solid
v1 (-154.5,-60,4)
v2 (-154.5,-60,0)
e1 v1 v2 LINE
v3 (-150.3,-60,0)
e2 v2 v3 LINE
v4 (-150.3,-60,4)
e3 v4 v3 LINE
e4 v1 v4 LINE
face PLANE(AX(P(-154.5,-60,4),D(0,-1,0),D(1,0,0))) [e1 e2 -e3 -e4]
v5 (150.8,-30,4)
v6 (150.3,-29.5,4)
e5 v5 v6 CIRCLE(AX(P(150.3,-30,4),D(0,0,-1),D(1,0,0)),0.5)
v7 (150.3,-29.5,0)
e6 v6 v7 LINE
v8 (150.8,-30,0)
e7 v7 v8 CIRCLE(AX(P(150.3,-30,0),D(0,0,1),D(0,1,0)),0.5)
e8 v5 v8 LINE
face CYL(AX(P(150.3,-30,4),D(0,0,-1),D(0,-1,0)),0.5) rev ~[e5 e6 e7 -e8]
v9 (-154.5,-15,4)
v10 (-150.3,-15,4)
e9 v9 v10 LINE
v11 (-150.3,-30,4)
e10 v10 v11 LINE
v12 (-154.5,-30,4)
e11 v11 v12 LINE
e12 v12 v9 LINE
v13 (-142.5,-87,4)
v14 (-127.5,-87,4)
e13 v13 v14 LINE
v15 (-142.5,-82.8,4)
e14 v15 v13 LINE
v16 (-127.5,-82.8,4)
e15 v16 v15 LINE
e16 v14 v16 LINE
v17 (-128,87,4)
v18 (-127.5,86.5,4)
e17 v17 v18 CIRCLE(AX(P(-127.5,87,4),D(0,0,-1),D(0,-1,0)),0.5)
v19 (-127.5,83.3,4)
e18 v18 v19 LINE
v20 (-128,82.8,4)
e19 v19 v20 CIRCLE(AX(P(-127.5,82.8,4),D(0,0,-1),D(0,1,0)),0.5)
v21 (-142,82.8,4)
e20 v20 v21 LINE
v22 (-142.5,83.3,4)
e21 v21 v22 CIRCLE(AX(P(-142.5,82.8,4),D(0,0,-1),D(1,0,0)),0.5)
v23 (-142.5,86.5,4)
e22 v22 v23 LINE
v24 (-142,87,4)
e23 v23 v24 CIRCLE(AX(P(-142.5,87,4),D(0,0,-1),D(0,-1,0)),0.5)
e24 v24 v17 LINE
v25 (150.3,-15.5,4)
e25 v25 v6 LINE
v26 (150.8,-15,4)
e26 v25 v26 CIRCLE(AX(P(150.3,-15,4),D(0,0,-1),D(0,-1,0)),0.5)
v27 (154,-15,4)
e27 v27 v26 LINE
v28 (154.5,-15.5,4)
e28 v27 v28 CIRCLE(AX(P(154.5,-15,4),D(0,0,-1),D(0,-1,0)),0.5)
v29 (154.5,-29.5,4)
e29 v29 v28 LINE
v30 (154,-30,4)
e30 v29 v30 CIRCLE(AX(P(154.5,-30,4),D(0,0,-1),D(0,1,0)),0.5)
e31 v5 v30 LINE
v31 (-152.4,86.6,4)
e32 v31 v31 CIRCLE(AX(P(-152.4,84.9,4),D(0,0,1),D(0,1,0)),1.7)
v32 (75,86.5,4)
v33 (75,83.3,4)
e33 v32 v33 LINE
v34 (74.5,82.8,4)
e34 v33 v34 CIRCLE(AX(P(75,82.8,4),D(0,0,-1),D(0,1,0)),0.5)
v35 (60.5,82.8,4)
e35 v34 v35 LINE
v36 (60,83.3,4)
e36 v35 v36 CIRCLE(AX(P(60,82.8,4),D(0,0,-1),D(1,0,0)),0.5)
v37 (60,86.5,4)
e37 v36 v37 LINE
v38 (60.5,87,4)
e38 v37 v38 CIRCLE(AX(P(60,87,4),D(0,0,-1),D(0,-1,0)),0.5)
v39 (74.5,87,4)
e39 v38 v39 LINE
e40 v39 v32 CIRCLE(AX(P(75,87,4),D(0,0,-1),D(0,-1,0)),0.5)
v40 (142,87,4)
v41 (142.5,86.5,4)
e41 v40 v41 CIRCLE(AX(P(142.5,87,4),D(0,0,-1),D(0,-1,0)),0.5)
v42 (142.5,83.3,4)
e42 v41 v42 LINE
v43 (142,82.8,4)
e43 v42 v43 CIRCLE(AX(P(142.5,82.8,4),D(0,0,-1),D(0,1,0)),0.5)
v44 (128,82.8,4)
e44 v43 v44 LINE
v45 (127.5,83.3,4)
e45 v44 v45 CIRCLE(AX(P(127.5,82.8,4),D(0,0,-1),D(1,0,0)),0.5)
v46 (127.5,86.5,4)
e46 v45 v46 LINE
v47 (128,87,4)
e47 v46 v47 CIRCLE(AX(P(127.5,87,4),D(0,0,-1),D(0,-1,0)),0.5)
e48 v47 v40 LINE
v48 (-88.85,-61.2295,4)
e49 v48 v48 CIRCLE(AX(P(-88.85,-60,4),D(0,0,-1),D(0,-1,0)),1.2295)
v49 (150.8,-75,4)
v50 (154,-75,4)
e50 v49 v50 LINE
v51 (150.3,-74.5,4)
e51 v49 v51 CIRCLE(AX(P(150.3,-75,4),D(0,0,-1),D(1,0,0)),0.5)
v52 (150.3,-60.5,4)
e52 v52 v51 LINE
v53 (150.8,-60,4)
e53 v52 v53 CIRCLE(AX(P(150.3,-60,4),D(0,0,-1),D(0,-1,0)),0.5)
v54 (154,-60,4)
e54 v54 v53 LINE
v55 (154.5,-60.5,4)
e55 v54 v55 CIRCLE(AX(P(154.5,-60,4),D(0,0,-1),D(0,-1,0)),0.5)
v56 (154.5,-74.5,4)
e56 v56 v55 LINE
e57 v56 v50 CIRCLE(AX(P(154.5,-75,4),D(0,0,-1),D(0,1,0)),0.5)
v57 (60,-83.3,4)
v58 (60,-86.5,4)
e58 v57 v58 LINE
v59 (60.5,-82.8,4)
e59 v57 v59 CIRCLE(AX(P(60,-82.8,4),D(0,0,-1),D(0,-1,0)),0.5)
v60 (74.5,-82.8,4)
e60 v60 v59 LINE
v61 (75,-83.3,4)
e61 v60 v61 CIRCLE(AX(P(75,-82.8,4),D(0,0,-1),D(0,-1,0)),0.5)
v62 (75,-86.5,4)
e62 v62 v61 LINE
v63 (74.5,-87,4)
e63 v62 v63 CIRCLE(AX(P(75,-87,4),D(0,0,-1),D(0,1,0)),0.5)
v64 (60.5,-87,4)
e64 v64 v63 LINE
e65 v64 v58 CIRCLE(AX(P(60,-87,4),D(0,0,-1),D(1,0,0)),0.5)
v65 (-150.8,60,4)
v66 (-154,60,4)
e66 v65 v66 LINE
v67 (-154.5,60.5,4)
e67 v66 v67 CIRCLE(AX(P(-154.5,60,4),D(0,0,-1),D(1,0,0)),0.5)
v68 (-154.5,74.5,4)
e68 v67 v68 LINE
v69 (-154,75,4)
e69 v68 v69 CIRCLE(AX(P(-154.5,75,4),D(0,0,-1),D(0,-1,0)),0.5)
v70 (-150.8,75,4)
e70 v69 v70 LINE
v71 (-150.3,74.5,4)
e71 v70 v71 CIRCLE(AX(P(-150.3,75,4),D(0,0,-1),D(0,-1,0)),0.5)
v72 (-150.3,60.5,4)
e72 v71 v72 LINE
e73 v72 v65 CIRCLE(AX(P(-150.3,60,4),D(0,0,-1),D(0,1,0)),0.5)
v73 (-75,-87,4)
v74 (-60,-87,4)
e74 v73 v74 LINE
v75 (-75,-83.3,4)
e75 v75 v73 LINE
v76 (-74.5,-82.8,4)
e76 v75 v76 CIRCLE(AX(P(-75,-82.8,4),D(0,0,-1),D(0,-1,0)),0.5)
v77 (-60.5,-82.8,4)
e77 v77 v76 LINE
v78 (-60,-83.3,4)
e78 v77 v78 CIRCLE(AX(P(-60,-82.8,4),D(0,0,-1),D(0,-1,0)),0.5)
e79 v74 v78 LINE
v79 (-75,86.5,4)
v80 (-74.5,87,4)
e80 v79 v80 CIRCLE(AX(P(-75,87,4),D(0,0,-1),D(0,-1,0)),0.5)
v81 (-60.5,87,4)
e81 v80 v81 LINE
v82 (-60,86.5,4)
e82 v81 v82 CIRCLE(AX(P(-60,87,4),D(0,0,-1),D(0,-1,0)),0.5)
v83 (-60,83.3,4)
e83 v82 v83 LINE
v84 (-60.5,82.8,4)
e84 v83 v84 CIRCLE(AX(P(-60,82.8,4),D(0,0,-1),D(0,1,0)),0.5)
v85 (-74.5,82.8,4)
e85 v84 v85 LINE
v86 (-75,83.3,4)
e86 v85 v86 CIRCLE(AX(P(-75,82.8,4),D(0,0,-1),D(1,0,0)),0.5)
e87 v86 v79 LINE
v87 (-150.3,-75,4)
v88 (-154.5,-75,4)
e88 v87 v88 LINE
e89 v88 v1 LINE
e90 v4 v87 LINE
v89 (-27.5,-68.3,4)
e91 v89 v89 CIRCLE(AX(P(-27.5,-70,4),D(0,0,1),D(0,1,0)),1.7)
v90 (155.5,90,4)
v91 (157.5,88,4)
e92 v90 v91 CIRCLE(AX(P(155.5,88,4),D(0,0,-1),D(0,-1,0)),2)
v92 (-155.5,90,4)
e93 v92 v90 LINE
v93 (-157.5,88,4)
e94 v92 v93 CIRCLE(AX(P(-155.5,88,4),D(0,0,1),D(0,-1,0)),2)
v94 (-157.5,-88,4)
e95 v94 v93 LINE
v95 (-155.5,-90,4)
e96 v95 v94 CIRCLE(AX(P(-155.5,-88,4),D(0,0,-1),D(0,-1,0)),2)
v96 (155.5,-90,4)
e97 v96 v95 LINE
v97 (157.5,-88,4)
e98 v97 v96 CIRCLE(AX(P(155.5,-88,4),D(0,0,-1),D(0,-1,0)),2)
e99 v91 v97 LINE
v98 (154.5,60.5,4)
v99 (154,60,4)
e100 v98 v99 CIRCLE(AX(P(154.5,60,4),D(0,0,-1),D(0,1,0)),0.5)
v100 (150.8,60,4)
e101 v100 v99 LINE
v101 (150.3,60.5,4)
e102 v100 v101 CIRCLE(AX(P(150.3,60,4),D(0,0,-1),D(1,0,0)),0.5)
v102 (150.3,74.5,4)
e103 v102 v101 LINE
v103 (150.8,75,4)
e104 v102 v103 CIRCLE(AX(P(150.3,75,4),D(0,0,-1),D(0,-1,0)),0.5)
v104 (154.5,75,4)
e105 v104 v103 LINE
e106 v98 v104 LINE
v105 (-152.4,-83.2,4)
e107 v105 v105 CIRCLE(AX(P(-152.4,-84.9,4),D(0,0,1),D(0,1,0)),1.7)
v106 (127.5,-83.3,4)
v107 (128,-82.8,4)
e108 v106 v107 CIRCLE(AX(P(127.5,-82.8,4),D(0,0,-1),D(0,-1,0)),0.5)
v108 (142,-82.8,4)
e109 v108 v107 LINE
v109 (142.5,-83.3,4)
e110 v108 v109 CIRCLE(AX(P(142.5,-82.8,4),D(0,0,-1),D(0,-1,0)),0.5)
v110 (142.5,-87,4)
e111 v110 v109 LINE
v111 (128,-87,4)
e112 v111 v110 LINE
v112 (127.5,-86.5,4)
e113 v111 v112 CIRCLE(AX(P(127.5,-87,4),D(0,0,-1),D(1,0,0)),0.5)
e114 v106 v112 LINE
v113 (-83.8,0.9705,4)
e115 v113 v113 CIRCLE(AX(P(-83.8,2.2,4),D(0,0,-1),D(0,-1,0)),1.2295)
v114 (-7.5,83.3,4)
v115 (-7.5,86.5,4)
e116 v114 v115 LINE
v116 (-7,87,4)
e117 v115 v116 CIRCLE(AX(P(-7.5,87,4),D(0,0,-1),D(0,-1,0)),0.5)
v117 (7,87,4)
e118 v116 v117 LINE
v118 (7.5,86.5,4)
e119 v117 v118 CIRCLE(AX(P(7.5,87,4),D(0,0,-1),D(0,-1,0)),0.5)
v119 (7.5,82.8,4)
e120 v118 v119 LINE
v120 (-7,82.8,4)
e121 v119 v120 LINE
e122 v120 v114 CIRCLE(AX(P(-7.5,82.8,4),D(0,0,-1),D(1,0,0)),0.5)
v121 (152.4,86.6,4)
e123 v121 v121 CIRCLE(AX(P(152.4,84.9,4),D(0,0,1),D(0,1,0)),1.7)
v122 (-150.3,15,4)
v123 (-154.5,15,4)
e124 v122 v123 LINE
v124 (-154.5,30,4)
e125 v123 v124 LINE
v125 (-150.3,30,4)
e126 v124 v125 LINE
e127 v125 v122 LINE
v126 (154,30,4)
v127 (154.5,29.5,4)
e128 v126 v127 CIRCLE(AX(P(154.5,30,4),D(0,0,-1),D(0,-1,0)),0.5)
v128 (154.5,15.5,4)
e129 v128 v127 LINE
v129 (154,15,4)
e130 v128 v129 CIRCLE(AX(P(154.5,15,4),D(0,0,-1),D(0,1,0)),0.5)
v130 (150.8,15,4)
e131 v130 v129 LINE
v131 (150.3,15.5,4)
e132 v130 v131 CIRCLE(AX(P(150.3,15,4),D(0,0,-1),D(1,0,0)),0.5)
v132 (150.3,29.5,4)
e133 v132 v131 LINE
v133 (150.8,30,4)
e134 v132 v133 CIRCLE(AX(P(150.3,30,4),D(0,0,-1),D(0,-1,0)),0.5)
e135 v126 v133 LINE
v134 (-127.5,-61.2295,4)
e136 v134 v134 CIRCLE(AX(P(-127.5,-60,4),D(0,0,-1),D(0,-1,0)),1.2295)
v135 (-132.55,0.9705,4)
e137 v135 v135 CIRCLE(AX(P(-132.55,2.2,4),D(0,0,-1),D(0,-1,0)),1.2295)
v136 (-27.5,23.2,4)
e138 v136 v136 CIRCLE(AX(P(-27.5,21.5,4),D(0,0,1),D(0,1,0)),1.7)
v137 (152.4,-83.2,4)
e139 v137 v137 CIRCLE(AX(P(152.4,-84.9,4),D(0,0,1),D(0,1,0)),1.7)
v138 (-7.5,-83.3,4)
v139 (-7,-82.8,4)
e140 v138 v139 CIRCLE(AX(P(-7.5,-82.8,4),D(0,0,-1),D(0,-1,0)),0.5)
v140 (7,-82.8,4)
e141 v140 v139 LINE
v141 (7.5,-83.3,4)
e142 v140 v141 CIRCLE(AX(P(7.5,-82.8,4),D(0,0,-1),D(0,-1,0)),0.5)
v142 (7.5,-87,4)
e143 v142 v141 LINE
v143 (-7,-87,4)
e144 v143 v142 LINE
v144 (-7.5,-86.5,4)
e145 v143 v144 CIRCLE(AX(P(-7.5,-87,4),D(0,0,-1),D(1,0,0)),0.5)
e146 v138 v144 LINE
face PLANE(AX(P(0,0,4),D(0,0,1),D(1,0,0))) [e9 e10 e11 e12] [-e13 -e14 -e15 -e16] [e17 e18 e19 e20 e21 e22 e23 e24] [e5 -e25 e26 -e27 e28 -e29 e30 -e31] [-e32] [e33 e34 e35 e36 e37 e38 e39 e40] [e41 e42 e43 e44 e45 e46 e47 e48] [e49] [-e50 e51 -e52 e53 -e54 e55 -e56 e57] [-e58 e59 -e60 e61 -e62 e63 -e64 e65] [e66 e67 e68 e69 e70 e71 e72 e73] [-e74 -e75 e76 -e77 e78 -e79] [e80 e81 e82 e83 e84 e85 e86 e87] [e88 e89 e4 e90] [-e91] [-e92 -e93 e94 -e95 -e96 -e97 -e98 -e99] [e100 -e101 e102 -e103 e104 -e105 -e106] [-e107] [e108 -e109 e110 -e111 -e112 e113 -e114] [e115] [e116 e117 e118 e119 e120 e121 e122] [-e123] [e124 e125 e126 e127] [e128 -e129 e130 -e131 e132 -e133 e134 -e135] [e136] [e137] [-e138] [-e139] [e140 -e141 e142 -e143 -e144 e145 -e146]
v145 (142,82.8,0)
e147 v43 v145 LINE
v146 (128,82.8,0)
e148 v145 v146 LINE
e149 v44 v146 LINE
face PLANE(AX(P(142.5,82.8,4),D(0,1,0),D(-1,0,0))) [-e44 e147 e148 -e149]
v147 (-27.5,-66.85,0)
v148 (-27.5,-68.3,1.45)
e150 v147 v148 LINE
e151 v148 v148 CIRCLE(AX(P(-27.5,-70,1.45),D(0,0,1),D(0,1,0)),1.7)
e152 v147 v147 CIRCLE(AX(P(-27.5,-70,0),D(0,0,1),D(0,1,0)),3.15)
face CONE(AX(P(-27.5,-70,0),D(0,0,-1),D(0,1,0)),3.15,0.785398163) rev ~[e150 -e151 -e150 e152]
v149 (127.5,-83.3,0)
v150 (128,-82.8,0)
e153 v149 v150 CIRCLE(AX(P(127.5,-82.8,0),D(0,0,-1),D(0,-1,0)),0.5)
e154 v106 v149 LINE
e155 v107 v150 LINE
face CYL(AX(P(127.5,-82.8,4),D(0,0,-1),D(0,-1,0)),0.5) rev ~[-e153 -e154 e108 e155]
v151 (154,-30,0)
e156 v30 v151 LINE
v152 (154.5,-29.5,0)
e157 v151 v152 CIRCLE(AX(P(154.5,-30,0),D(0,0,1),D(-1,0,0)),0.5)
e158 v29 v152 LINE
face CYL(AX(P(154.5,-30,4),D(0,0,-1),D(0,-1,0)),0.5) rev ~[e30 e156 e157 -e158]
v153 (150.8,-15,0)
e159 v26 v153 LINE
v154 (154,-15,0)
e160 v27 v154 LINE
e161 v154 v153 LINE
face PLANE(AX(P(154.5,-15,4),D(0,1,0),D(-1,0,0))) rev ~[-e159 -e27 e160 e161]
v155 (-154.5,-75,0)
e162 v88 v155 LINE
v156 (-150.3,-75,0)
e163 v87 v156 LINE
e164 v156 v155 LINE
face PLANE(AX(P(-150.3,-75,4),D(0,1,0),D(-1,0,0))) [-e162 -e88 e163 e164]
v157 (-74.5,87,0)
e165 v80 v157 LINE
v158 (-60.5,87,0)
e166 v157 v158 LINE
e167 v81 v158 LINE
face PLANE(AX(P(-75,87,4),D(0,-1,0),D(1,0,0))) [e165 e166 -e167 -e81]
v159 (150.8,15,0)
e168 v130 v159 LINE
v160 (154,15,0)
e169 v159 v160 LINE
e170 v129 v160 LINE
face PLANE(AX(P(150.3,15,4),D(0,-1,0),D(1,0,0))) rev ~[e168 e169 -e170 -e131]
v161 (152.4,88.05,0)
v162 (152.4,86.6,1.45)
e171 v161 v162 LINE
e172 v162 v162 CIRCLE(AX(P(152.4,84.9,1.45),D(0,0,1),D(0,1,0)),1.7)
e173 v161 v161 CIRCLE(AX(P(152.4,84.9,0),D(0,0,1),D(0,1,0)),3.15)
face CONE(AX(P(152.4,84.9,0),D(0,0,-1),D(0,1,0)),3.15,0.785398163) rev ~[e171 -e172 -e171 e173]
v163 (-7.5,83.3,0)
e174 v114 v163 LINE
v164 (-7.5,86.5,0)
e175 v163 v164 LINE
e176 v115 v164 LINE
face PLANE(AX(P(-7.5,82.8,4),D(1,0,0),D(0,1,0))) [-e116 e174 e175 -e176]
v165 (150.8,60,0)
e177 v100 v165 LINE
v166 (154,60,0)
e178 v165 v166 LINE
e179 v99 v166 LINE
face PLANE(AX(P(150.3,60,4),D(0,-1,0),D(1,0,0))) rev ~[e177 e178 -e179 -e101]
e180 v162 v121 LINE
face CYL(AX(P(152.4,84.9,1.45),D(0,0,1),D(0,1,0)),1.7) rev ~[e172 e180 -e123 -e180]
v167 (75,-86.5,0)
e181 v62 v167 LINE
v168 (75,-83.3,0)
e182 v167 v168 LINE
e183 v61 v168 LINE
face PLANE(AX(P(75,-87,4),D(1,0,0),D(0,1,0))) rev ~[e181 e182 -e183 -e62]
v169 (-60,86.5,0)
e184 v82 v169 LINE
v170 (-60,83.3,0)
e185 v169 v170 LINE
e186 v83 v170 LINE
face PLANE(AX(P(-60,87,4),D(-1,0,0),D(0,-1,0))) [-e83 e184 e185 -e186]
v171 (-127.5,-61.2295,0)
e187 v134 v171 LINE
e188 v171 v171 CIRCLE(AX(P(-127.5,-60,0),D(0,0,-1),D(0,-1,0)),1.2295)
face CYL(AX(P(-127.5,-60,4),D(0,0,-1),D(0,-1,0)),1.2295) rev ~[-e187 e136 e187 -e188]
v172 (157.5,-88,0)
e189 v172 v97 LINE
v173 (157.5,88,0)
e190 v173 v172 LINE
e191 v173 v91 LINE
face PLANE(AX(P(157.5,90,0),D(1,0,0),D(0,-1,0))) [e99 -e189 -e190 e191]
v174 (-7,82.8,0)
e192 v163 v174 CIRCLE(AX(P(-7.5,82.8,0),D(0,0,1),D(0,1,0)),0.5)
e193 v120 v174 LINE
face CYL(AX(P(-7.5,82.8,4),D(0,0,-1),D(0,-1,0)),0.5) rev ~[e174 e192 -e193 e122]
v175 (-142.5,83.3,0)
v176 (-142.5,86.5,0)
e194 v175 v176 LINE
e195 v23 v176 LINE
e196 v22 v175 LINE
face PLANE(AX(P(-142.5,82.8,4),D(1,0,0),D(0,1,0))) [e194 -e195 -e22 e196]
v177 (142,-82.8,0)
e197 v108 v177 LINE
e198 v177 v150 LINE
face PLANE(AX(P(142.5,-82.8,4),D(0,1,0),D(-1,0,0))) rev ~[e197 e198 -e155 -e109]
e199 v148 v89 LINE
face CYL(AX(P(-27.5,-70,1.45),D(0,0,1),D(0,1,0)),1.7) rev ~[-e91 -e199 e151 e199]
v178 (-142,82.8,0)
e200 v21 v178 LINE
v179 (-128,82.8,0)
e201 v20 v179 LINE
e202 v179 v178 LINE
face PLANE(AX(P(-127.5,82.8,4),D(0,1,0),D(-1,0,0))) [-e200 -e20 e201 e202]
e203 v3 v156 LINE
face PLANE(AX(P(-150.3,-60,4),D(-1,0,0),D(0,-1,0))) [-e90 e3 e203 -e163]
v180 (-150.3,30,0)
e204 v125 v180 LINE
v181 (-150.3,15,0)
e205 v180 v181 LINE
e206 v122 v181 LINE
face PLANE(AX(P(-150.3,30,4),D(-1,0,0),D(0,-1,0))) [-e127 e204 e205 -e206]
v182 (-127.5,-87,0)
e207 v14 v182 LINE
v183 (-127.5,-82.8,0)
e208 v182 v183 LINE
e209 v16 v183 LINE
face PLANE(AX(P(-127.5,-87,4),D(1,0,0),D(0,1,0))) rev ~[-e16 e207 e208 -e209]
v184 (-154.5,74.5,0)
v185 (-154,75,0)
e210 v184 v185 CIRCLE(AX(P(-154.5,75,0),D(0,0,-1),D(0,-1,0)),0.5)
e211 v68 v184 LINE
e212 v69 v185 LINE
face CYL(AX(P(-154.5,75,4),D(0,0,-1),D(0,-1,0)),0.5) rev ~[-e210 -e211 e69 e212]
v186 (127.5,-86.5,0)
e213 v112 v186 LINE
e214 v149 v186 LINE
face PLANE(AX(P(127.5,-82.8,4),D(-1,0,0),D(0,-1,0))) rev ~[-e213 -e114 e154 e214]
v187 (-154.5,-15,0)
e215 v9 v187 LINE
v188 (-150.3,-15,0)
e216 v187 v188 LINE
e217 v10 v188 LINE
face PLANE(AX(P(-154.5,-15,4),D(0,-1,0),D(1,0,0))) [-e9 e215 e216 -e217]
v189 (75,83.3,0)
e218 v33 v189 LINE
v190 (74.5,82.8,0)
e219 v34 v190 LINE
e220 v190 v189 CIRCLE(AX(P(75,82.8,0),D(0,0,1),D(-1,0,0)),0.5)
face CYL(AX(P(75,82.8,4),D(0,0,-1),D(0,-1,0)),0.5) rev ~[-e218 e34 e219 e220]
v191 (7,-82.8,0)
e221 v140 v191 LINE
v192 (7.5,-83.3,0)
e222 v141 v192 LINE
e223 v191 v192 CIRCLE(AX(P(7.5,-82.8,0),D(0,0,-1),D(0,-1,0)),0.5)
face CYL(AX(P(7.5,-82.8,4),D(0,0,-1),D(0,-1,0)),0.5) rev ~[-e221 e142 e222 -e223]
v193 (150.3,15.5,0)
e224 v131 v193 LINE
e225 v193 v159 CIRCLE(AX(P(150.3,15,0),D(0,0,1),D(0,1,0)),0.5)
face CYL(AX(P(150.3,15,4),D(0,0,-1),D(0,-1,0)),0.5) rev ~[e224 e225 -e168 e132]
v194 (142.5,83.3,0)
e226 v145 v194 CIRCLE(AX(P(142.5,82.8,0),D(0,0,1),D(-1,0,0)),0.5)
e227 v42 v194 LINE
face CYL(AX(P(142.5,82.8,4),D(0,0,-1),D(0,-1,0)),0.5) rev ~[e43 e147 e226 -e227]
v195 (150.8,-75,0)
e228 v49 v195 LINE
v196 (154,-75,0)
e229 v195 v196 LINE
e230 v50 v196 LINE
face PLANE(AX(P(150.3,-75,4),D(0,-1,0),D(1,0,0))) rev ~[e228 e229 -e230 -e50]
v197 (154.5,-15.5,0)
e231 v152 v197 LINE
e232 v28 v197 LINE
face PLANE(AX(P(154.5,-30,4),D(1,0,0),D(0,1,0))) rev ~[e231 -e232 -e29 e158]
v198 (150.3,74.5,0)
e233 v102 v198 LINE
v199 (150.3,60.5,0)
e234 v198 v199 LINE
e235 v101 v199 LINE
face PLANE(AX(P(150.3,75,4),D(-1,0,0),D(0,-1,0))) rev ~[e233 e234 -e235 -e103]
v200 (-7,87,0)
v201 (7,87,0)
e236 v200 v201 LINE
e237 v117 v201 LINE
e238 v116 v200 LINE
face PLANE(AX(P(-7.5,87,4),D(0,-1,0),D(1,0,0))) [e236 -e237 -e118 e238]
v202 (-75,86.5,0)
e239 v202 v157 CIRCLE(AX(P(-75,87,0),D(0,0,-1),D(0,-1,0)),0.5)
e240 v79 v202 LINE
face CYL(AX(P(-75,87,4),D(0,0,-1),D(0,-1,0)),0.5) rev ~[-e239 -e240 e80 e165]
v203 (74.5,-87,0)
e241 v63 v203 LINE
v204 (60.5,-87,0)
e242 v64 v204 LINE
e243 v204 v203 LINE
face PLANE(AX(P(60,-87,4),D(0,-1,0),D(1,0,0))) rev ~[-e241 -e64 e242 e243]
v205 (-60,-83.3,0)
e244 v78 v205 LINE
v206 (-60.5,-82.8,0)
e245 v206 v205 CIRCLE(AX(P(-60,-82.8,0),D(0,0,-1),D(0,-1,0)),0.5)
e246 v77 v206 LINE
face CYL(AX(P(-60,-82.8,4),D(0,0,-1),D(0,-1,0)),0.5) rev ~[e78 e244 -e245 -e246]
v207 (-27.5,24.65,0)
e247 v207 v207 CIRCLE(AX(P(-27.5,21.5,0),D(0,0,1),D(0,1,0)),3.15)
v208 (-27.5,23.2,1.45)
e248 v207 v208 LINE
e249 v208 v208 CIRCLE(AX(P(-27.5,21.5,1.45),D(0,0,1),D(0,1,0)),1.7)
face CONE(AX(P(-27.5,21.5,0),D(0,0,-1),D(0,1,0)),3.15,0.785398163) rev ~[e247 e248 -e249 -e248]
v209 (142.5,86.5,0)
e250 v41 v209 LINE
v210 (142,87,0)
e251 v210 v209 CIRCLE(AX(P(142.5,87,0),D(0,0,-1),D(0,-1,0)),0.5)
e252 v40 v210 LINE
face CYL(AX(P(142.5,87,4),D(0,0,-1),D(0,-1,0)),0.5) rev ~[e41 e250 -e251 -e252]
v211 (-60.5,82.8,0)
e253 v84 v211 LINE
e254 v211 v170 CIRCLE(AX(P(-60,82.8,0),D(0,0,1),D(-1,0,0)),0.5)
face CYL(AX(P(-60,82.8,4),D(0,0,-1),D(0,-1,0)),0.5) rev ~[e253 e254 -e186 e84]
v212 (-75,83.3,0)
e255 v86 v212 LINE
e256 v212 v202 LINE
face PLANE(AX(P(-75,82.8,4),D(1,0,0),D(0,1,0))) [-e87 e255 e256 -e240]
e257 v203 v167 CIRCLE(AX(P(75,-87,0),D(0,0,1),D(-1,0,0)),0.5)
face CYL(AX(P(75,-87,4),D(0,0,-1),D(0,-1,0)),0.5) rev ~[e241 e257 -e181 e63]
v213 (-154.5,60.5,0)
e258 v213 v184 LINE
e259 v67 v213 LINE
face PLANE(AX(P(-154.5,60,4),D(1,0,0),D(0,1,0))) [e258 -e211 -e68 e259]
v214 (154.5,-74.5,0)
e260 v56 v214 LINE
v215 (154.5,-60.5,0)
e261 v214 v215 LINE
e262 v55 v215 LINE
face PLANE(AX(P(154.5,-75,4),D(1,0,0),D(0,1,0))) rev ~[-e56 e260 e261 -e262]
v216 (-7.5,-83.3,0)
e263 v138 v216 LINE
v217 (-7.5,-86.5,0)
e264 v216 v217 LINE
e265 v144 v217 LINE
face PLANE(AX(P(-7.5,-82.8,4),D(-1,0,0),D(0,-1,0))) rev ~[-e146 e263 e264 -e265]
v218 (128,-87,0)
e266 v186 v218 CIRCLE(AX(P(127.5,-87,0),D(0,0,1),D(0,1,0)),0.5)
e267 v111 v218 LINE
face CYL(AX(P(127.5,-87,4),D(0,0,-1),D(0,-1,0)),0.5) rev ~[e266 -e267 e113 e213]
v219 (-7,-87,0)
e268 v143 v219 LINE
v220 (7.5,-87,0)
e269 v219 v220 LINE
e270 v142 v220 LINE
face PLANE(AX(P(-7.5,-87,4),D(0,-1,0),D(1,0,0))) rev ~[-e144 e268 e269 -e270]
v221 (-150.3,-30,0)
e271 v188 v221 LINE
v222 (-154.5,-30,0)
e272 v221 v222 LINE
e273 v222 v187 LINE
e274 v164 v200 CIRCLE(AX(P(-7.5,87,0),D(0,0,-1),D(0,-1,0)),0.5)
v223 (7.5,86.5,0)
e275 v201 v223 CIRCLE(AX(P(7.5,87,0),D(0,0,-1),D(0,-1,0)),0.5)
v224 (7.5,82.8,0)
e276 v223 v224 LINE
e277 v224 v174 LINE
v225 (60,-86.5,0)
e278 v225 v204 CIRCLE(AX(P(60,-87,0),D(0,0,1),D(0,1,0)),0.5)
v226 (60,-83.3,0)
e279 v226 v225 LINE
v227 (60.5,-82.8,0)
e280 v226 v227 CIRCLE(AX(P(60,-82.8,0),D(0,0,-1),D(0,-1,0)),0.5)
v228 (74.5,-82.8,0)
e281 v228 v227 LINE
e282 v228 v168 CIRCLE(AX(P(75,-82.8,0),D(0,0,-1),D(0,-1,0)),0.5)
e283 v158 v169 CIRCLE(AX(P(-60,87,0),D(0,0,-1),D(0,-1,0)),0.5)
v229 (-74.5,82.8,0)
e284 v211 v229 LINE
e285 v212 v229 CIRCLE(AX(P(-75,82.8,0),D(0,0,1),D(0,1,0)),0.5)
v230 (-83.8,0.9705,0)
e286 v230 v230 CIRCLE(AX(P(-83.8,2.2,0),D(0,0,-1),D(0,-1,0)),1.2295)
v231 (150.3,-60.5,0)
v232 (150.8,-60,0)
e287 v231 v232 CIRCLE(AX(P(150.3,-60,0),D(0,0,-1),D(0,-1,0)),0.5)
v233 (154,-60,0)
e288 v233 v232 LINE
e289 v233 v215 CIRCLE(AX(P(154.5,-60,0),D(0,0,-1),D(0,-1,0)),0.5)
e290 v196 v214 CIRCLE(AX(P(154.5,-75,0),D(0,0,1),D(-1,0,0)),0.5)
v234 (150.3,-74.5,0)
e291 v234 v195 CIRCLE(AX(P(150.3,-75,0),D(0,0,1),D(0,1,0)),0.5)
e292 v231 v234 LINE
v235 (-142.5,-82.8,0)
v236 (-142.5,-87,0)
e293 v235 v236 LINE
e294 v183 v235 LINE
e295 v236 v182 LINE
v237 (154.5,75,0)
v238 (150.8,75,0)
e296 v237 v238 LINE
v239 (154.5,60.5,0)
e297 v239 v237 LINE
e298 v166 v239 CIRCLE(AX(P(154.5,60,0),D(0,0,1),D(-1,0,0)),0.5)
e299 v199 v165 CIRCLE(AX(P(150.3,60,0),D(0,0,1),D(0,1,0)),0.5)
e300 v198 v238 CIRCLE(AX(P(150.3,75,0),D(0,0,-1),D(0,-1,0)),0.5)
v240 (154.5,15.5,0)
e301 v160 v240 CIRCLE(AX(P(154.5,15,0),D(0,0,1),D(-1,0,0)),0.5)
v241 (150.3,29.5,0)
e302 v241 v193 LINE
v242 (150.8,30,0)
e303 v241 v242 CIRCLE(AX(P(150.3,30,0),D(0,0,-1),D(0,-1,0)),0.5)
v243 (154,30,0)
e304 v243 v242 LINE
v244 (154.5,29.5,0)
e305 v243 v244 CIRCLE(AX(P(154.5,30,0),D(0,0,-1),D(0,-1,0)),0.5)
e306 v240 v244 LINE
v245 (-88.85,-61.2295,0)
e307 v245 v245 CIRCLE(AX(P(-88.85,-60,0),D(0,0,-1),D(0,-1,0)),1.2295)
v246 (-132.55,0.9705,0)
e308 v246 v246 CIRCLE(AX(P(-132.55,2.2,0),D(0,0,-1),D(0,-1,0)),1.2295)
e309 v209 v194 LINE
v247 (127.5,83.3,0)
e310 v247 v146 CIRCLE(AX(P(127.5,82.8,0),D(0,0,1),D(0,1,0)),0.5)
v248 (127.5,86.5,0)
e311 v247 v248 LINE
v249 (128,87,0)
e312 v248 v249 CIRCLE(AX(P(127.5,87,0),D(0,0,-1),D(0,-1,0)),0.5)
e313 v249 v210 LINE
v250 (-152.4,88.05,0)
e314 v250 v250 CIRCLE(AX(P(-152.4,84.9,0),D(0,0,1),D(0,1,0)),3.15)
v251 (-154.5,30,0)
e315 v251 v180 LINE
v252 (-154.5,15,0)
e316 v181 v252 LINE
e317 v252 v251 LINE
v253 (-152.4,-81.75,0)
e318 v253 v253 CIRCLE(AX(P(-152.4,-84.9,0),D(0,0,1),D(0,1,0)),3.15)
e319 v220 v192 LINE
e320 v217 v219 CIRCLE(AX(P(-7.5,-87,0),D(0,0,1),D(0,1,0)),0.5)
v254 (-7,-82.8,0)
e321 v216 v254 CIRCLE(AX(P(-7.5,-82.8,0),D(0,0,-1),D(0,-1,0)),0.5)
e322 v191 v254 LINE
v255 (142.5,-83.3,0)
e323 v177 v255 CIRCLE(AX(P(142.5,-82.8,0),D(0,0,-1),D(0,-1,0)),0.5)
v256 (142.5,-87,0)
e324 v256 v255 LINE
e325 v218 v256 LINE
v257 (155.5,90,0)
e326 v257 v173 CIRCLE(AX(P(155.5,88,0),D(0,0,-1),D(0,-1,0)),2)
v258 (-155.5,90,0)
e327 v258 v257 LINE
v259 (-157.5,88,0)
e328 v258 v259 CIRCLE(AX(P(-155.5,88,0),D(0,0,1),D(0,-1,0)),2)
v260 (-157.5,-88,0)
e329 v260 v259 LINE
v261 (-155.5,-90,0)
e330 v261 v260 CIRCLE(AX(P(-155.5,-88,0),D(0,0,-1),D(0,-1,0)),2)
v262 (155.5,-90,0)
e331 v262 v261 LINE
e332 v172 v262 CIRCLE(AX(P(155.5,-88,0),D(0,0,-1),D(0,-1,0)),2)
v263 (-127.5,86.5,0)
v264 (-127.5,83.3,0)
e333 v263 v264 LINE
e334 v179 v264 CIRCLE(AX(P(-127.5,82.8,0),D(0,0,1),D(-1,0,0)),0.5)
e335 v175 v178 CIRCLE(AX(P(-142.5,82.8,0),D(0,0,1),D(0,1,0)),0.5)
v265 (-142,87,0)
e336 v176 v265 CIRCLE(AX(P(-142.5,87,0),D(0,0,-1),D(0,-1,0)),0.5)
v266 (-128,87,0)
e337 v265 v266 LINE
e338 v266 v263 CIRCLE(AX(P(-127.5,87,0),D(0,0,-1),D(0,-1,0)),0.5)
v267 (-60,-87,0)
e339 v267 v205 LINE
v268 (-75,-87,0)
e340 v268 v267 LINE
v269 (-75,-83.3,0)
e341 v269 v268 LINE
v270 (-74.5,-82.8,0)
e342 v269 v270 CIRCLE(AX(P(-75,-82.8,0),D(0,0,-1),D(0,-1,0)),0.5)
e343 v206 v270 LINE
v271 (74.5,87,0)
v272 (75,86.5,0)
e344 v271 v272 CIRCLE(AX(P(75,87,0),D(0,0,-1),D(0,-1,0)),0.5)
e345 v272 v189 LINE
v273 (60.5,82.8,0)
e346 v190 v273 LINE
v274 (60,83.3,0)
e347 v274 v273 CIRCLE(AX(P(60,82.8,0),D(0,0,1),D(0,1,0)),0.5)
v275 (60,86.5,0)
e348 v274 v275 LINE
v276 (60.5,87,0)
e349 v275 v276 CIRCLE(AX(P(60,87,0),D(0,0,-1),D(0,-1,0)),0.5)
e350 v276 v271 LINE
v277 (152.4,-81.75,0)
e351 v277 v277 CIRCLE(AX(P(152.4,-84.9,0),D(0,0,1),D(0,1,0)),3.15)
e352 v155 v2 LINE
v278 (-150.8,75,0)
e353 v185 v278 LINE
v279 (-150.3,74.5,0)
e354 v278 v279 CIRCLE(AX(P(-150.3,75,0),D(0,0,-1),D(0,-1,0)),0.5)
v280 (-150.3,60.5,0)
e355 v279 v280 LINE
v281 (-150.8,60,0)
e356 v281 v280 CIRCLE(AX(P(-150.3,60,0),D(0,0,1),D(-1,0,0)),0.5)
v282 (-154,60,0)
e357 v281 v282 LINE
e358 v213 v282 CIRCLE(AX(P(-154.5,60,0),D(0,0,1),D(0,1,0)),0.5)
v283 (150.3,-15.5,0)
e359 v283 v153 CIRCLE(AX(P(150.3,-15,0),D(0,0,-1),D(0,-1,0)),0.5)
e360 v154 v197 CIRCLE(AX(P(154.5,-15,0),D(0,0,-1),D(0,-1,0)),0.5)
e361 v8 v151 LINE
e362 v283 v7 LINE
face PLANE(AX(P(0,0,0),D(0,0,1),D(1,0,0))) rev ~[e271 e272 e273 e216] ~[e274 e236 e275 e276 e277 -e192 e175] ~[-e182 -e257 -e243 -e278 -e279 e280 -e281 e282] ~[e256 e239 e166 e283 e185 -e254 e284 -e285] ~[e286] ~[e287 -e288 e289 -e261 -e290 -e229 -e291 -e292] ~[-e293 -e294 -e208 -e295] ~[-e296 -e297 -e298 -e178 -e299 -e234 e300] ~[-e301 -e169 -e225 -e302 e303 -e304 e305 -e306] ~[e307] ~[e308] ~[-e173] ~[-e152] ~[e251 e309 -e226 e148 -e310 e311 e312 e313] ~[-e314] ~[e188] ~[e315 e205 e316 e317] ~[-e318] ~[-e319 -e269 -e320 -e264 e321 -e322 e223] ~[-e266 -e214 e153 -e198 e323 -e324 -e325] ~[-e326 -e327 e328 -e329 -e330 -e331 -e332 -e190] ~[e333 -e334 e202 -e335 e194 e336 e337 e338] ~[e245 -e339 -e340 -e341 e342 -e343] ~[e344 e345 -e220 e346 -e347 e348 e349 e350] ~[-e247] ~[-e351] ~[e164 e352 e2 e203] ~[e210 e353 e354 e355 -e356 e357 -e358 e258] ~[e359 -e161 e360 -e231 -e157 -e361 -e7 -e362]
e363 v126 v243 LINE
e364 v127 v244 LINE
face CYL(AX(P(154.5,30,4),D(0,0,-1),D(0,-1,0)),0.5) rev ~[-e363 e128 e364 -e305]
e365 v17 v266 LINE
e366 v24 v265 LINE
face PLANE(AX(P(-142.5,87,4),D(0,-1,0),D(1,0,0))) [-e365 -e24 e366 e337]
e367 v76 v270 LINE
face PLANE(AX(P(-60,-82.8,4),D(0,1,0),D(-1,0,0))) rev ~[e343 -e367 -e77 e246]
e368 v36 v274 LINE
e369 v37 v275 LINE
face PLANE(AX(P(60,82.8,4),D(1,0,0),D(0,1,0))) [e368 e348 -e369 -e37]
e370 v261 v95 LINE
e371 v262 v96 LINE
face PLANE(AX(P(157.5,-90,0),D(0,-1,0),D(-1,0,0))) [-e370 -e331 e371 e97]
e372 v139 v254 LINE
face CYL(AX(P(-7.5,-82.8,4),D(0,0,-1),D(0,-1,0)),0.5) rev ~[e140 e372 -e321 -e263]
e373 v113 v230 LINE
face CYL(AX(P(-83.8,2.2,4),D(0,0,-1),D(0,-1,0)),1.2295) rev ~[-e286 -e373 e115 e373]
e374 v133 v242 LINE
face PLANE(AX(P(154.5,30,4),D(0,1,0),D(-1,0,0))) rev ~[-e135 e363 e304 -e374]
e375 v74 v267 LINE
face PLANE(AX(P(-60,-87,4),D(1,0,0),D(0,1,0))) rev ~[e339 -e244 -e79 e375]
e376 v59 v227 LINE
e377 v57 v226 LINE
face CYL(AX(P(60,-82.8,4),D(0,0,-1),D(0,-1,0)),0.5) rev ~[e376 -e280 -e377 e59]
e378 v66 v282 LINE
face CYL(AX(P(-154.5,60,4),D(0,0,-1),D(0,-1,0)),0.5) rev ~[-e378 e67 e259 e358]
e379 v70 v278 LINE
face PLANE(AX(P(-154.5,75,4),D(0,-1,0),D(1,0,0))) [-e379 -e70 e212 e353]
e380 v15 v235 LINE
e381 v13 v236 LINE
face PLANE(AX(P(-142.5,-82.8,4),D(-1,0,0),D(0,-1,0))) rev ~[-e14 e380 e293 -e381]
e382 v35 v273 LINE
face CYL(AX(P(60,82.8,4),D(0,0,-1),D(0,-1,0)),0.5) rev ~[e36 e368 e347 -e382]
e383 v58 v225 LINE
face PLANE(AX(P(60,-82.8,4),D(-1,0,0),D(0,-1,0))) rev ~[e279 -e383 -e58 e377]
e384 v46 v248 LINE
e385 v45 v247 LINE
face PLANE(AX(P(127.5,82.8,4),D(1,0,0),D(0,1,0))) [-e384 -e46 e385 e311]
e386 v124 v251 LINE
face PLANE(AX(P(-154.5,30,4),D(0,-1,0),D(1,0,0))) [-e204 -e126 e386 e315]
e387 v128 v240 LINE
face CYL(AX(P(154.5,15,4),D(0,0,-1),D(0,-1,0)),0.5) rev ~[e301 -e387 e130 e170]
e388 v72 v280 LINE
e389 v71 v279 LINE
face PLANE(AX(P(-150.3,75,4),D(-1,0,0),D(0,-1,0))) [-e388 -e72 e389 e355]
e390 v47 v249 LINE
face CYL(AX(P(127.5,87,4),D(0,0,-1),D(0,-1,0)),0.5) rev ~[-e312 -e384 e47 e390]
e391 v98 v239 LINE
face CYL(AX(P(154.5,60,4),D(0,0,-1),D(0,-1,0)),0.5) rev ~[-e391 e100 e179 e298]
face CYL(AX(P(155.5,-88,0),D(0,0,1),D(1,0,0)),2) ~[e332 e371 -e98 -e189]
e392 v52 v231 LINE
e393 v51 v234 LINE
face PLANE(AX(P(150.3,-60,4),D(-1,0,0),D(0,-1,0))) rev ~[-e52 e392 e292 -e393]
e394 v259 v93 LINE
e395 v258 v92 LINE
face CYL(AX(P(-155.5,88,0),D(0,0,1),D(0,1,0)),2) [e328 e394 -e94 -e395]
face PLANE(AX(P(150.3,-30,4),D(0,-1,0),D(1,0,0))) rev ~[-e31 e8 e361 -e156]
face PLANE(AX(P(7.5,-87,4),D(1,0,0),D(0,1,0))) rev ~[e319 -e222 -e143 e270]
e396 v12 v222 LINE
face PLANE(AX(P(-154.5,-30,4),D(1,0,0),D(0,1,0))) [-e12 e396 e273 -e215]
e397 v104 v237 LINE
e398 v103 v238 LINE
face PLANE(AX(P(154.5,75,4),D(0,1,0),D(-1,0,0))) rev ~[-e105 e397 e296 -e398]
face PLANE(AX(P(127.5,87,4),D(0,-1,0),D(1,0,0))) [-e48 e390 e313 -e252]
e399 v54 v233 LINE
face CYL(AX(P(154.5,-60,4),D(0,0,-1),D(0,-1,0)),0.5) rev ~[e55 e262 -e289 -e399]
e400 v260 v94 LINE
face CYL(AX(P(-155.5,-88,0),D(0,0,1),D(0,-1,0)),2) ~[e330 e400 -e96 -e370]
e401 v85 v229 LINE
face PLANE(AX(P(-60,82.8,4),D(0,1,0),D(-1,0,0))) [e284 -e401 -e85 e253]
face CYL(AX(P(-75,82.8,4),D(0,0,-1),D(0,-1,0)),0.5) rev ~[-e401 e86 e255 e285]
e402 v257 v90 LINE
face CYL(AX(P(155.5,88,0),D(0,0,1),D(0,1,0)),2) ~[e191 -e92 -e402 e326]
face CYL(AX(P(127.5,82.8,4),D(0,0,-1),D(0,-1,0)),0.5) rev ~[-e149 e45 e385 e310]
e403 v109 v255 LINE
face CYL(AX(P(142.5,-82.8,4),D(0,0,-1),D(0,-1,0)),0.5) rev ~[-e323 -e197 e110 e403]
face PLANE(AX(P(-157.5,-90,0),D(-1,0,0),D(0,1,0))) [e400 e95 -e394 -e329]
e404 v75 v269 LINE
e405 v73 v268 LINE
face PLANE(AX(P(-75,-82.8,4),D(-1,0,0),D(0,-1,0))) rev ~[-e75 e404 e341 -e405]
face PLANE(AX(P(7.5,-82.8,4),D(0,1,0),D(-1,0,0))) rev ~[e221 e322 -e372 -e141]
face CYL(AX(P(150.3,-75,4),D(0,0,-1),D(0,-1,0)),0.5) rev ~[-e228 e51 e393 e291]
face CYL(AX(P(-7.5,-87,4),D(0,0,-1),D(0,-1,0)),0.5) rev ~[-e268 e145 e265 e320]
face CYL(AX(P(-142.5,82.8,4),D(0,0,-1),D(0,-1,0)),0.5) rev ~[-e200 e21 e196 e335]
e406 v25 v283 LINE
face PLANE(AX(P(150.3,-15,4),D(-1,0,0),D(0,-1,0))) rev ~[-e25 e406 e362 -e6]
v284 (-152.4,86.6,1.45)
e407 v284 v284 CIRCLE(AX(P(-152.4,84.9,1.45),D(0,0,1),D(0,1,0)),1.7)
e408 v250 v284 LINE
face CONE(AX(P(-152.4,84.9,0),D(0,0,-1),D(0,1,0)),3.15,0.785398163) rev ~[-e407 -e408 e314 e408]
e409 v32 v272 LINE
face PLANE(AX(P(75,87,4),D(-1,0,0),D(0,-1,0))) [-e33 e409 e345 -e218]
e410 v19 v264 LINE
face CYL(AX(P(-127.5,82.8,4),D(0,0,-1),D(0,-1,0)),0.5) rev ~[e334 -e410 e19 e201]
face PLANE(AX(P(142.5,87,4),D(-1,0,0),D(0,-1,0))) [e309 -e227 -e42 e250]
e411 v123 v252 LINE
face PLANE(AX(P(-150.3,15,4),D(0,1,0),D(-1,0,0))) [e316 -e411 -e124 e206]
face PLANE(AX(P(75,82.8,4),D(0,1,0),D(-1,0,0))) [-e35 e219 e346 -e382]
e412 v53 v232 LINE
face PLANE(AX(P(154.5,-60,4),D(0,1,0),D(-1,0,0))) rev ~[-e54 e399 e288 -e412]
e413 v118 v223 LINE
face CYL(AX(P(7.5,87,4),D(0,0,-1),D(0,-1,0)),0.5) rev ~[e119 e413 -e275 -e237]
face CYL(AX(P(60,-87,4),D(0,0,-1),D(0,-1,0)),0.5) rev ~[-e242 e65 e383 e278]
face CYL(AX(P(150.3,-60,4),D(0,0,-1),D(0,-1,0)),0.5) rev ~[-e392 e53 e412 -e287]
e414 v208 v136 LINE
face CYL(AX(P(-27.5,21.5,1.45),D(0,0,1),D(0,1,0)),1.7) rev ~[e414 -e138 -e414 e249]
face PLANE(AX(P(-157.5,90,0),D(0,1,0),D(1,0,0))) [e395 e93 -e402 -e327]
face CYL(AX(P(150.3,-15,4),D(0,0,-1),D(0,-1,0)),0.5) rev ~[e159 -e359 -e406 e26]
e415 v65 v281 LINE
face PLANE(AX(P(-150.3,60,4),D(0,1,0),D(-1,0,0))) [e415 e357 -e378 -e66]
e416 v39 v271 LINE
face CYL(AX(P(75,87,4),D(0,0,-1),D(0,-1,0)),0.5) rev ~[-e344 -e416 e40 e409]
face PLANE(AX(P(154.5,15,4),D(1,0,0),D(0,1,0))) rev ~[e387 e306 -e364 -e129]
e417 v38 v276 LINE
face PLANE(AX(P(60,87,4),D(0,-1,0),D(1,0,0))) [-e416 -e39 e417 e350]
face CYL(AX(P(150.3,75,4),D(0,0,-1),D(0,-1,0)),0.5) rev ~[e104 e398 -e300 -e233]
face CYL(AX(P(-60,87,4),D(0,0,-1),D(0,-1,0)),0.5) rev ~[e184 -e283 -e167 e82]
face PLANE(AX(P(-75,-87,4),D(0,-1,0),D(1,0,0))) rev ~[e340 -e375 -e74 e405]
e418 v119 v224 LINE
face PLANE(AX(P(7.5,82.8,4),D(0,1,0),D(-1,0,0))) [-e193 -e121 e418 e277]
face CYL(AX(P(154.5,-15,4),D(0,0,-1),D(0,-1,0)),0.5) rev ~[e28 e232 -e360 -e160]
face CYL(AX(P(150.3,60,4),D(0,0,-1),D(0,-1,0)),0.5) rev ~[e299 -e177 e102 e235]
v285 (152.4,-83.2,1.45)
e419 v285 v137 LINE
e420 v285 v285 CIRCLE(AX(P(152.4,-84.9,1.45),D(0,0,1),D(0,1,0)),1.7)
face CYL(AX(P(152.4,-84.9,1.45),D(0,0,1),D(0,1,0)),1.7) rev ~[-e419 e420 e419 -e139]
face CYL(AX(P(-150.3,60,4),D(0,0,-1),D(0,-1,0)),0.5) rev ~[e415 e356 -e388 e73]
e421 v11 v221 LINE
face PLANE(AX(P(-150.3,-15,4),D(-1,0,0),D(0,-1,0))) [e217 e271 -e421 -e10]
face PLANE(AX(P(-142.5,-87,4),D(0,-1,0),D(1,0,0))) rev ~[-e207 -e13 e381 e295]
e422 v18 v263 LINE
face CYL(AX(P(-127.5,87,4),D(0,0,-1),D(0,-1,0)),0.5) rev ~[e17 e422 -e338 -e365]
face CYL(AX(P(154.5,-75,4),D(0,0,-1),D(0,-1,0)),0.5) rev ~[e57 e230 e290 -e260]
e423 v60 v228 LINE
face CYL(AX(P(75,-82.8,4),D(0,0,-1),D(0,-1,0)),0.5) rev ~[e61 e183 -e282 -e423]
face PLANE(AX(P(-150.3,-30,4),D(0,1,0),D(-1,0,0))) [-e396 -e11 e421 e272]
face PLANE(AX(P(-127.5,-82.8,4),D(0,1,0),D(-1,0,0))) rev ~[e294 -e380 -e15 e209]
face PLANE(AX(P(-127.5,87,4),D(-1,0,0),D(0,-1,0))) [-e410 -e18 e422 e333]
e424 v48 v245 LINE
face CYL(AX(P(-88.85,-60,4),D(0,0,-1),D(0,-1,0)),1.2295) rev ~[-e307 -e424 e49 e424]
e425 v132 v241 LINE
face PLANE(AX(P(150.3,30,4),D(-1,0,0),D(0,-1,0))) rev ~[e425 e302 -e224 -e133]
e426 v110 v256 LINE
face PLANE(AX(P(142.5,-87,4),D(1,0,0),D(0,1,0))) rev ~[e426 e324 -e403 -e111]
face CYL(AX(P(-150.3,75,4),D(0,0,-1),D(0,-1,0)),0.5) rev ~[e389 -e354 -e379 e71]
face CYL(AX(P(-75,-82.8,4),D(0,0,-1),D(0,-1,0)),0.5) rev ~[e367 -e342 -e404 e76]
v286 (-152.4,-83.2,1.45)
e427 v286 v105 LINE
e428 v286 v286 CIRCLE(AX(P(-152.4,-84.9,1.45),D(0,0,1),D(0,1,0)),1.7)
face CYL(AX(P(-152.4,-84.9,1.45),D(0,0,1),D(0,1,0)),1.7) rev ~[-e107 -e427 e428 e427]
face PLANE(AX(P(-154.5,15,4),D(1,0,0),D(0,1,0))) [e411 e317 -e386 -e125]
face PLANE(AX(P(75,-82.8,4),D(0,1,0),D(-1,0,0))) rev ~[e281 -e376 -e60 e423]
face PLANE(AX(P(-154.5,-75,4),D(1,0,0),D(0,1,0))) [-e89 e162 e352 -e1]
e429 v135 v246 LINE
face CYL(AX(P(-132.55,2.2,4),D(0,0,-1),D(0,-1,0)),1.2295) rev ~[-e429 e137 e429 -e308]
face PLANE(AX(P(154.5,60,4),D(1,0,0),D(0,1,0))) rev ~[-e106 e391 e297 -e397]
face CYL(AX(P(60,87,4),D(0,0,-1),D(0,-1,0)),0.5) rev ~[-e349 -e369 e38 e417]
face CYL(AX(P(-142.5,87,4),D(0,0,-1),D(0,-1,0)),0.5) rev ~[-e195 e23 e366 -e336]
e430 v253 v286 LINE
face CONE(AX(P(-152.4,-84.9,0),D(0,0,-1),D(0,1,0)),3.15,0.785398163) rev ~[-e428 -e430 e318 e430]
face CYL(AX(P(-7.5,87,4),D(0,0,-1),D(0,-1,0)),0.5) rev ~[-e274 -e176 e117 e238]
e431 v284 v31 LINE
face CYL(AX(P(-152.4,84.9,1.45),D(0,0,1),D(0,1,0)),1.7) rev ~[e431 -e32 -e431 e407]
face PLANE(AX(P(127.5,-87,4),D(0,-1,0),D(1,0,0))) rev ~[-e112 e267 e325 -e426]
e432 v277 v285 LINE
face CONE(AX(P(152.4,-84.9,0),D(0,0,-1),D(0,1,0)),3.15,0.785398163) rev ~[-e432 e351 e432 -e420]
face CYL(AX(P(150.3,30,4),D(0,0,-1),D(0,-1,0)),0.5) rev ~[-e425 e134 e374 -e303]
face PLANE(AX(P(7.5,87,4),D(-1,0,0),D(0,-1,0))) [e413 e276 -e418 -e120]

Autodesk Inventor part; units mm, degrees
ref_plane "Plan YZ" through (0, 0, 0) normal (1, 0, 0) x (0, 1, 0)
ref_plane "Plan XZ" through (0, 0, 0) normal (0, 1, 0) x (-1, 0, 0)
ref_plane "Plan XY" through (0, 0, 0) normal (0, 0, 1) x (1, 0, 0)
sketch "Esquisse1" plane through (0, 0, 0) normal (0, 0, 1) x (1, 0, 0)
  line L0 (-157.5, 90) -> (157.5, 90)
  line L1 (157.5, 90) -> (157.5, -90)
  line L2 (157.5, -90) -> (-157.5, -90)
  line L3 (-157.5, -90) -> (-157.5, 90)
  line L4 (0, -126) -> (0, 126) construction
  line L5 (-220.5, 0) -> (220.5, 0) construction
  point P0 (0, 0)
  dimension "d0" = 315
  dimension "d1" = 180
extrude "Extrusion1" add sketch "Esquisse1" along normal blind 4
fillet "Congé1" radius 2 4 edges at (-157.5, -90, 2) (157.5, -90, 2) (157.5, 90, 2) (-157.5, 90, 2)
sketch "Esquisse26" plane through (0, 0, 0) normal (0, 0, -1) x (-1, 0, 0)
  line L0 (240.1687, 0) -> (-248.0894, 0) construction
  line L1 (153.8514, 90) -> (-157.1486, 90) construction
  line L2 (-157.5, 88.301) -> (-157.5, -87.699) construction
  line L3 (155.5, 90) -> (-155.5, 90)
  line L4 (-157.5, 88) -> (-157.5, -88)
  line L5 (0, -126.0669) -> (0, 125.6351) construction
  line L6 (157.5, 90) -> (-157.5, 90) projected
  line L7 (-157.5, 90) -> (-157.5, -90) projected
  point P0 (0, 0)
  point P1 (0, 0)
  point P2 (0, 0)
  point P3 (-152.4, 84.9)
  point P4 (152.4, 84.9)
  point P5 (152.4, -84.9)
  point P6 (-152.4, -84.9)
  point P7 (0, 0)
  dimension "d291" = 5.1
  dimension "d292" = 5.1
hole "Perçage19" at (152.4, 84.9, 0) at (-152.4, 84.9, 0) at (-152.4, -84.9, 0) at (152.4, -84.9, 0) direction (0, 0, 1) diameter 3.4 end through all countersink diameter 6.3 countersink angle 90 clearance for "Vis à tête plate fraisée ISO 2009/7046" size "M3" standard "ISO"
sketch "Esquisse9" plane through (0, 0, 4) normal (0, 0, 1) x (1, 0, 0)
  line L0 (-142.5, 87) -> (-127.5, 87)
  line L1 (-127.5, 87) -> (-127.5, 82.8)
  line L2 (-127.5, 82.8) -> (-142.5, 82.8)
  line L3 (-142.5, 82.8) -> (-142.5, 87)
  line L4 (157.5, 90) -> (-157.5, 90) projected
  line L5 (-157.5, 90) -> (-157.5, -90) projected
  line L6 (-220.5, 0) -> (220.5, 0) construction
  line L7 (-75, 87) -> (-60, 87)
  line L8 (-60, 87) -> (-60, 82.8)
  line L9 (-60, 82.8) -> (-75, 82.8)
  line L10 (-75, 82.8) -> (-75, 87)
  line L11 (-7.5, 87) -> (7.5, 87)
  line L12 (7.5, 87) -> (7.5, 82.8)
  line L13 (7.5, 82.8) -> (-7.5, 82.8)
  line L14 (-7.5, 82.8) -> (-7.5, 87)
  line L15 (60, 87) -> (75, 87)
  line L16 (75, 87) -> (75, 82.8)
  line L17 (75, 82.8) -> (60, 82.8)
  line L18 (60, 82.8) -> (60, 87)
  line L19 (127.5, 87) -> (142.5, 87)
  line L20 (142.5, 87) -> (142.5, 82.8)
  line L21 (142.5, 82.8) -> (127.5, 82.8)
  line L22 (127.5, 82.8) -> (127.5, 87)
  line L23 (-142.5, -87) -> (-127.5, -87)
  line L24 (-127.5, -87) -> (-127.5, -82.8)
  line L25 (-127.5, -82.8) -> (-142.5, -82.8)
  line L26 (-142.5, -82.8) -> (-142.5, -87)
  line L27 (-75, -87) -> (-60, -87)
  line L28 (-60, -87) -> (-60, -82.8)
  line L29 (-60, -82.8) -> (-75, -82.8)
  line L30 (-75, -82.8) -> (-75, -87)
  line L31 (-7.5, -87) -> (7.5, -87)
  line L32 (7.5, -87) -> (7.5, -82.8)
  line L33 (7.5, -82.8) -> (-7.5, -82.8)
  line L34 (-7.5, -82.8) -> (-7.5, -87)
  line L35 (60, -87) -> (75, -87)
  line L36 (75, -87) -> (75, -82.8)
  line L37 (75, -82.8) -> (60, -82.8)
  line L38 (60, -82.8) -> (60, -87)
  line L39 (127.5, -87) -> (142.5, -87)
  line L40 (142.5, -87) -> (142.5, -82.8)
  line L41 (142.5, -82.8) -> (127.5, -82.8)
  line L42 (127.5, -82.8) -> (127.5, -87)
  line L43 (0, -126) -> (0, 126) construction
  point P0 (0, 0)
  dimension "d48" = 15
  dimension "d49" = 4.2
  dimension "d50" = 3
  dimension "d51" = 15
  dimension "d54" = 67.5
extrude "Extrusion2" cut sketch "Esquisse9" against normal through all
sketch "Esquisse11" plane through (0, 0, 4) normal (0, 0, 1) x (1, 0, 0)
  line L0 (-154.5, 75) -> (-150.3, 75)
  line L1 (-150.3, 75) -> (-150.3, 60)
  line L2 (-150.3, 60) -> (-154.5, 60)
  line L3 (-154.5, 60) -> (-154.5, 75)
  line L4 (-157.5, 90) -> (-157.5, -90) projected
  line L5 (157.5, 90) -> (-157.5, 90) projected
  line L6 (0, -126) -> (0, 126) construction
  line L7 (-1185.9019, 0) -> (1185.9019, 0) construction
  line L8 (-154.5, 30) -> (-150.3, 30)
  line L9 (-150.3, 30) -> (-150.3, 15)
  line L10 (-150.3, 15) -> (-154.5, 15)
  line L11 (-154.5, 15) -> (-154.5, 30)
  line L12 (-154.5, -15) -> (-150.3, -15)
  line L13 (-150.3, -15) -> (-150.3, -30)
  line L14 (-150.3, -30) -> (-154.5, -30)
  line L15 (-154.5, -30) -> (-154.5, -15)
  line L16 (-154.5, -60) -> (-150.3, -60)
  line L17 (-150.3, -60) -> (-150.3, -75)
  line L18 (-150.3, -75) -> (-154.5, -75)
  line L19 (-154.5, -75) -> (-154.5, -60)
  line L20 (154.5, 75) -> (150.3, 75)
  line L21 (150.3, 75) -> (150.3, 60)
  line L22 (150.3, 60) -> (154.5, 60)
  line L23 (154.5, 60) -> (154.5, 75)
  line L24 (1185.9019, 0) -> (-1185.9019, 0) construction
  line L25 (154.5, 30) -> (150.3, 30)
  line L26 (150.3, 30) -> (150.3, 15)
  line L27 (150.3, 15) -> (154.5, 15)
  line L28 (154.5, 15) -> (154.5, 30)
  line L29 (154.5, -15) -> (150.3, -15)
  line L30 (150.3, -15) -> (150.3, -30)
  line L31 (150.3, -30) -> (154.5, -30)
  line L32 (154.5, -30) -> (154.5, -15)
  line L33 (154.5, -60) -> (150.3, -60)
  line L34 (150.3, -60) -> (150.3, -75)
  line L35 (150.3, -75) -> (154.5, -75)
  line L36 (154.5, -75) -> (154.5, -60)
  point P0 (0, 0)
  dimension "d78" = 4.2
  dimension "d79" = 15
  dimension "d80" = 3
  dimension "d81" = 15
  dimension "d84" = 45
extrude "Extrusion3" cut sketch "Esquisse11" against normal through all
sketch "Esquisse12" plane through (0, 0, 4) normal (0, 0, 1) x (1, 0, 0)
  point P0 (0, 0)
  point P1 (-142.5, 82.8)
  point P2 (-142.5, 87)
  point P3 (-127.5, 87)
  point P4 (-127.5, 82.8)
  point P5 (-150.3, 75)
  point P6 (-154.5, 75)
  point P7 (-154.5, 60)
  point P8 (-150.3, 60)
  point P9 (-75, 82.8)
  point P10 (-60, 82.8)
  point P11 (-60, 87)
  point P12 (-75, 87)
  point P13 (-7.5, 87)
  point P14 (-7.5, 82.8)
  point P15 (7.5, 87)
  point P16 (60, 87)
  point P17 (60, 82.8)
  point P18 (75, 82.8)
  point P19 (75, 87)
  point P20 (142.5, 87)
  point P21 (142.5, 82.8)
  point P22 (127.5, 82.8)
  point P23 (127.5, 87)
  point P24 (150.3, 75)
  point P25 (150.3, 60)
  point P26 (154.5, 60)
  point P27 (154.5, 30)
  point P28 (150.3, 30)
  point P29 (154.5, 15)
  point P30 (150.3, 15)
  point P31 (154.5, -60)
  point P32 (150.3, -60)
  point P33 (154.5, -30)
  point P34 (150.3, -30)
  point P35 (150.3, -15)
  point P36 (154.5, -15)
  point P37 (154.5, -75)
  point P38 (150.3, -75)
  point P39 (127.5, -87)
  point P40 (127.5, -82.8)
  point P41 (142.5, -82.8)
  point P42 (60, -87)
  point P43 (75, -87)
  point P44 (75, -82.8)
  point P45 (60, -82.8)
  point P46 (-7.5, -87)
  point P47 (-7.5, -82.8)
  point P48 (7.5, -82.8)
  point P49 (-75, -82.8)
  point P50 (-60, -82.8)
  point P51 (-60, -87)
  point P52 (-142.5, -87)
  point P53 (-127.5, -87)
  point P54 (-127.5, -82.8)
  point P55 (-142.5, -82.8)
  point P56 (-154.5, -75)
  point P57 (-154.5, -60)
  point P58 (-150.3, -60)
  point P59 (-150.3, 15)
  point P60 (-154.5, 15)
  point P61 (-150.3, -30)
  point P62 (-154.5, -30)
  point P63 (-154.5, -15)
  point P64 (-150.3, -15)
  point P65 (-150.3, 30)
  point P66 (-154.5, 30)
  point P67 (142.5, -87)
  point P68 (154.5, 75)
  point P69 (-75, -87)
  point P70 (7.5, -87)
  point P71 (-150.3, -75)
  point P72 (7.5, 82.8)
hole "Perçage5" at (-142.5, 82.8, 4) at (-142.5, 87, 4) at (-127.5, 87, 4) at (-127.5, 82.8, 4) at (-150.3, 75, 4) at (-154.5, 75, 4) at (-154.5, 60, 4) at (-150.3, 60, 4) at (-75, 82.8, 4) at (-60, 82.8, 4) at (-60, 87, 4) at (-75, 87, 4) at (-7.5, 87, 4) at (-7.5, 82.8, 4) at (7.5, 87, 4) at (60, 87, 4) at (60, 82.8, 4) at (75, 82.8, 4) at (75, 87, 4) at (142.5, 87, 4) at (142.5, 82.8, 4) at (127.5, 82.8, 4) at (127.5, 87, 4) at (150.3, 75, 4) at (150.3, 60, 4) at (154.5, 60, 4) at (154.5, 30, 4) at (150.3, 30, 4) at (154.5, 15, 4) at (150.3, 15, 4) at (154.5, -60, 4) at (150.3, -60, 4) at (154.5, -30, 4) at (150.3, -30, 4) at (150.3, -15, 4) at (154.5, -15, 4) at (154.5, -75, 4) at (150.3, -75, 4) at (127.5, -87, 4) at (127.5, -82.8, 4) at (142.5, -82.8, 4) at (60, -87, 4) at (75, -87, 4) at (75, -82.8, 4) at (60, -82.8, 4) at (-7.5, -87, 4) at (-7.5, -82.8, 4) at (7.5, -82.8, 4) at (-75, -82.8, 4) at (-60, -82.8, 4) direction (0, 0, -1) diameter 1 end through all
sketch "Esquisse23" plane through (0, 0, 4) normal (0, 0, 1) x (1, 0, 0)
  line L0 (-157.5, 88) -> (-157.5, -88) construction
  line L1 (-155.986, -90) -> (155.014, -90) construction
  line L2 (-176.0653, -60) -> (2.7327, -60) construction
  line L3 (-194.4032, 2.2) -> (-29.2901, 2.2) construction
  line L4 (-108.175, 50.3896) -> (-108.175, -85.7092) construction
  line L5 (-157.5, 88) -> (-157.5, -88)
  line L6 (-155.5, -90) -> (155.5, -90)
  line L7 (-157.5, 90) -> (-157.5, -90) projected
  line L8 (-157.5, -90) -> (157.5, -90) projected
  point P0 (0, 0)
  point P1 (0, 0)
  point P2 (0, 0)
  point P3 (-127.5, -60)
  point P4 (-88.85, -60)
  point P5 (-132.55, 2.2)
  point P6 (-83.8, 2.2)
  dimension "d256" = 30
  dimension "d257" = 38.65
  dimension "d258" = 30
  dimension "d259" = 62.2
  dimension "d260" = 48.75
  dimension "d261" = 38.65
hole "Perçage16" at (-132.55, 2.2, 4) at (-83.8, 2.2, 4) at (-127.5, -60, 4) at (-88.85, -60, 4) direction (0, 0, -1) diameter 2.459 end through all thread size "M3x0.5" class "6H" standard "ISO M"
sketch "Esquisse25" plane through (0, 0, 0) normal (0, 0, -1) x (-1, 0, 0)
  line L0 (0, -126) -> (0, 126) construction
  line L1 (-157.5, -90) -> (157.5, -90) projected
  line L2 (157.5, -90) -> (157.5, 90) projected
  point P0 (0, 0)
  point P1 (0, 0)
  point P2 (0, 0)
  point P3 (0, 0)
  point P4 (27.5, 21.5)
  point P5 (27.5, -70)
  point P6 (-155.5, -90)
  point P7 (155.5, -90)
  point P8 (157.5, -88)
  point P9 (157.5, 88)
  dimension "d281" = 91.5
  dimension "d282" = 20
  dimension "d283" = 130
hole "Perçage18" at (-27.5, 21.5, 0) at (-27.5, -70, 0) direction (0, 0, 1) diameter 3.4 end through all countersink diameter 6.3 countersink angle 90 clearance for "Vis à tête plate fraisée ISO 2009/7046" size "M3" standard "ISO"
equation "\"d261\" = d257"
properties part number "P1704_006" material "Plastique PMMA"
